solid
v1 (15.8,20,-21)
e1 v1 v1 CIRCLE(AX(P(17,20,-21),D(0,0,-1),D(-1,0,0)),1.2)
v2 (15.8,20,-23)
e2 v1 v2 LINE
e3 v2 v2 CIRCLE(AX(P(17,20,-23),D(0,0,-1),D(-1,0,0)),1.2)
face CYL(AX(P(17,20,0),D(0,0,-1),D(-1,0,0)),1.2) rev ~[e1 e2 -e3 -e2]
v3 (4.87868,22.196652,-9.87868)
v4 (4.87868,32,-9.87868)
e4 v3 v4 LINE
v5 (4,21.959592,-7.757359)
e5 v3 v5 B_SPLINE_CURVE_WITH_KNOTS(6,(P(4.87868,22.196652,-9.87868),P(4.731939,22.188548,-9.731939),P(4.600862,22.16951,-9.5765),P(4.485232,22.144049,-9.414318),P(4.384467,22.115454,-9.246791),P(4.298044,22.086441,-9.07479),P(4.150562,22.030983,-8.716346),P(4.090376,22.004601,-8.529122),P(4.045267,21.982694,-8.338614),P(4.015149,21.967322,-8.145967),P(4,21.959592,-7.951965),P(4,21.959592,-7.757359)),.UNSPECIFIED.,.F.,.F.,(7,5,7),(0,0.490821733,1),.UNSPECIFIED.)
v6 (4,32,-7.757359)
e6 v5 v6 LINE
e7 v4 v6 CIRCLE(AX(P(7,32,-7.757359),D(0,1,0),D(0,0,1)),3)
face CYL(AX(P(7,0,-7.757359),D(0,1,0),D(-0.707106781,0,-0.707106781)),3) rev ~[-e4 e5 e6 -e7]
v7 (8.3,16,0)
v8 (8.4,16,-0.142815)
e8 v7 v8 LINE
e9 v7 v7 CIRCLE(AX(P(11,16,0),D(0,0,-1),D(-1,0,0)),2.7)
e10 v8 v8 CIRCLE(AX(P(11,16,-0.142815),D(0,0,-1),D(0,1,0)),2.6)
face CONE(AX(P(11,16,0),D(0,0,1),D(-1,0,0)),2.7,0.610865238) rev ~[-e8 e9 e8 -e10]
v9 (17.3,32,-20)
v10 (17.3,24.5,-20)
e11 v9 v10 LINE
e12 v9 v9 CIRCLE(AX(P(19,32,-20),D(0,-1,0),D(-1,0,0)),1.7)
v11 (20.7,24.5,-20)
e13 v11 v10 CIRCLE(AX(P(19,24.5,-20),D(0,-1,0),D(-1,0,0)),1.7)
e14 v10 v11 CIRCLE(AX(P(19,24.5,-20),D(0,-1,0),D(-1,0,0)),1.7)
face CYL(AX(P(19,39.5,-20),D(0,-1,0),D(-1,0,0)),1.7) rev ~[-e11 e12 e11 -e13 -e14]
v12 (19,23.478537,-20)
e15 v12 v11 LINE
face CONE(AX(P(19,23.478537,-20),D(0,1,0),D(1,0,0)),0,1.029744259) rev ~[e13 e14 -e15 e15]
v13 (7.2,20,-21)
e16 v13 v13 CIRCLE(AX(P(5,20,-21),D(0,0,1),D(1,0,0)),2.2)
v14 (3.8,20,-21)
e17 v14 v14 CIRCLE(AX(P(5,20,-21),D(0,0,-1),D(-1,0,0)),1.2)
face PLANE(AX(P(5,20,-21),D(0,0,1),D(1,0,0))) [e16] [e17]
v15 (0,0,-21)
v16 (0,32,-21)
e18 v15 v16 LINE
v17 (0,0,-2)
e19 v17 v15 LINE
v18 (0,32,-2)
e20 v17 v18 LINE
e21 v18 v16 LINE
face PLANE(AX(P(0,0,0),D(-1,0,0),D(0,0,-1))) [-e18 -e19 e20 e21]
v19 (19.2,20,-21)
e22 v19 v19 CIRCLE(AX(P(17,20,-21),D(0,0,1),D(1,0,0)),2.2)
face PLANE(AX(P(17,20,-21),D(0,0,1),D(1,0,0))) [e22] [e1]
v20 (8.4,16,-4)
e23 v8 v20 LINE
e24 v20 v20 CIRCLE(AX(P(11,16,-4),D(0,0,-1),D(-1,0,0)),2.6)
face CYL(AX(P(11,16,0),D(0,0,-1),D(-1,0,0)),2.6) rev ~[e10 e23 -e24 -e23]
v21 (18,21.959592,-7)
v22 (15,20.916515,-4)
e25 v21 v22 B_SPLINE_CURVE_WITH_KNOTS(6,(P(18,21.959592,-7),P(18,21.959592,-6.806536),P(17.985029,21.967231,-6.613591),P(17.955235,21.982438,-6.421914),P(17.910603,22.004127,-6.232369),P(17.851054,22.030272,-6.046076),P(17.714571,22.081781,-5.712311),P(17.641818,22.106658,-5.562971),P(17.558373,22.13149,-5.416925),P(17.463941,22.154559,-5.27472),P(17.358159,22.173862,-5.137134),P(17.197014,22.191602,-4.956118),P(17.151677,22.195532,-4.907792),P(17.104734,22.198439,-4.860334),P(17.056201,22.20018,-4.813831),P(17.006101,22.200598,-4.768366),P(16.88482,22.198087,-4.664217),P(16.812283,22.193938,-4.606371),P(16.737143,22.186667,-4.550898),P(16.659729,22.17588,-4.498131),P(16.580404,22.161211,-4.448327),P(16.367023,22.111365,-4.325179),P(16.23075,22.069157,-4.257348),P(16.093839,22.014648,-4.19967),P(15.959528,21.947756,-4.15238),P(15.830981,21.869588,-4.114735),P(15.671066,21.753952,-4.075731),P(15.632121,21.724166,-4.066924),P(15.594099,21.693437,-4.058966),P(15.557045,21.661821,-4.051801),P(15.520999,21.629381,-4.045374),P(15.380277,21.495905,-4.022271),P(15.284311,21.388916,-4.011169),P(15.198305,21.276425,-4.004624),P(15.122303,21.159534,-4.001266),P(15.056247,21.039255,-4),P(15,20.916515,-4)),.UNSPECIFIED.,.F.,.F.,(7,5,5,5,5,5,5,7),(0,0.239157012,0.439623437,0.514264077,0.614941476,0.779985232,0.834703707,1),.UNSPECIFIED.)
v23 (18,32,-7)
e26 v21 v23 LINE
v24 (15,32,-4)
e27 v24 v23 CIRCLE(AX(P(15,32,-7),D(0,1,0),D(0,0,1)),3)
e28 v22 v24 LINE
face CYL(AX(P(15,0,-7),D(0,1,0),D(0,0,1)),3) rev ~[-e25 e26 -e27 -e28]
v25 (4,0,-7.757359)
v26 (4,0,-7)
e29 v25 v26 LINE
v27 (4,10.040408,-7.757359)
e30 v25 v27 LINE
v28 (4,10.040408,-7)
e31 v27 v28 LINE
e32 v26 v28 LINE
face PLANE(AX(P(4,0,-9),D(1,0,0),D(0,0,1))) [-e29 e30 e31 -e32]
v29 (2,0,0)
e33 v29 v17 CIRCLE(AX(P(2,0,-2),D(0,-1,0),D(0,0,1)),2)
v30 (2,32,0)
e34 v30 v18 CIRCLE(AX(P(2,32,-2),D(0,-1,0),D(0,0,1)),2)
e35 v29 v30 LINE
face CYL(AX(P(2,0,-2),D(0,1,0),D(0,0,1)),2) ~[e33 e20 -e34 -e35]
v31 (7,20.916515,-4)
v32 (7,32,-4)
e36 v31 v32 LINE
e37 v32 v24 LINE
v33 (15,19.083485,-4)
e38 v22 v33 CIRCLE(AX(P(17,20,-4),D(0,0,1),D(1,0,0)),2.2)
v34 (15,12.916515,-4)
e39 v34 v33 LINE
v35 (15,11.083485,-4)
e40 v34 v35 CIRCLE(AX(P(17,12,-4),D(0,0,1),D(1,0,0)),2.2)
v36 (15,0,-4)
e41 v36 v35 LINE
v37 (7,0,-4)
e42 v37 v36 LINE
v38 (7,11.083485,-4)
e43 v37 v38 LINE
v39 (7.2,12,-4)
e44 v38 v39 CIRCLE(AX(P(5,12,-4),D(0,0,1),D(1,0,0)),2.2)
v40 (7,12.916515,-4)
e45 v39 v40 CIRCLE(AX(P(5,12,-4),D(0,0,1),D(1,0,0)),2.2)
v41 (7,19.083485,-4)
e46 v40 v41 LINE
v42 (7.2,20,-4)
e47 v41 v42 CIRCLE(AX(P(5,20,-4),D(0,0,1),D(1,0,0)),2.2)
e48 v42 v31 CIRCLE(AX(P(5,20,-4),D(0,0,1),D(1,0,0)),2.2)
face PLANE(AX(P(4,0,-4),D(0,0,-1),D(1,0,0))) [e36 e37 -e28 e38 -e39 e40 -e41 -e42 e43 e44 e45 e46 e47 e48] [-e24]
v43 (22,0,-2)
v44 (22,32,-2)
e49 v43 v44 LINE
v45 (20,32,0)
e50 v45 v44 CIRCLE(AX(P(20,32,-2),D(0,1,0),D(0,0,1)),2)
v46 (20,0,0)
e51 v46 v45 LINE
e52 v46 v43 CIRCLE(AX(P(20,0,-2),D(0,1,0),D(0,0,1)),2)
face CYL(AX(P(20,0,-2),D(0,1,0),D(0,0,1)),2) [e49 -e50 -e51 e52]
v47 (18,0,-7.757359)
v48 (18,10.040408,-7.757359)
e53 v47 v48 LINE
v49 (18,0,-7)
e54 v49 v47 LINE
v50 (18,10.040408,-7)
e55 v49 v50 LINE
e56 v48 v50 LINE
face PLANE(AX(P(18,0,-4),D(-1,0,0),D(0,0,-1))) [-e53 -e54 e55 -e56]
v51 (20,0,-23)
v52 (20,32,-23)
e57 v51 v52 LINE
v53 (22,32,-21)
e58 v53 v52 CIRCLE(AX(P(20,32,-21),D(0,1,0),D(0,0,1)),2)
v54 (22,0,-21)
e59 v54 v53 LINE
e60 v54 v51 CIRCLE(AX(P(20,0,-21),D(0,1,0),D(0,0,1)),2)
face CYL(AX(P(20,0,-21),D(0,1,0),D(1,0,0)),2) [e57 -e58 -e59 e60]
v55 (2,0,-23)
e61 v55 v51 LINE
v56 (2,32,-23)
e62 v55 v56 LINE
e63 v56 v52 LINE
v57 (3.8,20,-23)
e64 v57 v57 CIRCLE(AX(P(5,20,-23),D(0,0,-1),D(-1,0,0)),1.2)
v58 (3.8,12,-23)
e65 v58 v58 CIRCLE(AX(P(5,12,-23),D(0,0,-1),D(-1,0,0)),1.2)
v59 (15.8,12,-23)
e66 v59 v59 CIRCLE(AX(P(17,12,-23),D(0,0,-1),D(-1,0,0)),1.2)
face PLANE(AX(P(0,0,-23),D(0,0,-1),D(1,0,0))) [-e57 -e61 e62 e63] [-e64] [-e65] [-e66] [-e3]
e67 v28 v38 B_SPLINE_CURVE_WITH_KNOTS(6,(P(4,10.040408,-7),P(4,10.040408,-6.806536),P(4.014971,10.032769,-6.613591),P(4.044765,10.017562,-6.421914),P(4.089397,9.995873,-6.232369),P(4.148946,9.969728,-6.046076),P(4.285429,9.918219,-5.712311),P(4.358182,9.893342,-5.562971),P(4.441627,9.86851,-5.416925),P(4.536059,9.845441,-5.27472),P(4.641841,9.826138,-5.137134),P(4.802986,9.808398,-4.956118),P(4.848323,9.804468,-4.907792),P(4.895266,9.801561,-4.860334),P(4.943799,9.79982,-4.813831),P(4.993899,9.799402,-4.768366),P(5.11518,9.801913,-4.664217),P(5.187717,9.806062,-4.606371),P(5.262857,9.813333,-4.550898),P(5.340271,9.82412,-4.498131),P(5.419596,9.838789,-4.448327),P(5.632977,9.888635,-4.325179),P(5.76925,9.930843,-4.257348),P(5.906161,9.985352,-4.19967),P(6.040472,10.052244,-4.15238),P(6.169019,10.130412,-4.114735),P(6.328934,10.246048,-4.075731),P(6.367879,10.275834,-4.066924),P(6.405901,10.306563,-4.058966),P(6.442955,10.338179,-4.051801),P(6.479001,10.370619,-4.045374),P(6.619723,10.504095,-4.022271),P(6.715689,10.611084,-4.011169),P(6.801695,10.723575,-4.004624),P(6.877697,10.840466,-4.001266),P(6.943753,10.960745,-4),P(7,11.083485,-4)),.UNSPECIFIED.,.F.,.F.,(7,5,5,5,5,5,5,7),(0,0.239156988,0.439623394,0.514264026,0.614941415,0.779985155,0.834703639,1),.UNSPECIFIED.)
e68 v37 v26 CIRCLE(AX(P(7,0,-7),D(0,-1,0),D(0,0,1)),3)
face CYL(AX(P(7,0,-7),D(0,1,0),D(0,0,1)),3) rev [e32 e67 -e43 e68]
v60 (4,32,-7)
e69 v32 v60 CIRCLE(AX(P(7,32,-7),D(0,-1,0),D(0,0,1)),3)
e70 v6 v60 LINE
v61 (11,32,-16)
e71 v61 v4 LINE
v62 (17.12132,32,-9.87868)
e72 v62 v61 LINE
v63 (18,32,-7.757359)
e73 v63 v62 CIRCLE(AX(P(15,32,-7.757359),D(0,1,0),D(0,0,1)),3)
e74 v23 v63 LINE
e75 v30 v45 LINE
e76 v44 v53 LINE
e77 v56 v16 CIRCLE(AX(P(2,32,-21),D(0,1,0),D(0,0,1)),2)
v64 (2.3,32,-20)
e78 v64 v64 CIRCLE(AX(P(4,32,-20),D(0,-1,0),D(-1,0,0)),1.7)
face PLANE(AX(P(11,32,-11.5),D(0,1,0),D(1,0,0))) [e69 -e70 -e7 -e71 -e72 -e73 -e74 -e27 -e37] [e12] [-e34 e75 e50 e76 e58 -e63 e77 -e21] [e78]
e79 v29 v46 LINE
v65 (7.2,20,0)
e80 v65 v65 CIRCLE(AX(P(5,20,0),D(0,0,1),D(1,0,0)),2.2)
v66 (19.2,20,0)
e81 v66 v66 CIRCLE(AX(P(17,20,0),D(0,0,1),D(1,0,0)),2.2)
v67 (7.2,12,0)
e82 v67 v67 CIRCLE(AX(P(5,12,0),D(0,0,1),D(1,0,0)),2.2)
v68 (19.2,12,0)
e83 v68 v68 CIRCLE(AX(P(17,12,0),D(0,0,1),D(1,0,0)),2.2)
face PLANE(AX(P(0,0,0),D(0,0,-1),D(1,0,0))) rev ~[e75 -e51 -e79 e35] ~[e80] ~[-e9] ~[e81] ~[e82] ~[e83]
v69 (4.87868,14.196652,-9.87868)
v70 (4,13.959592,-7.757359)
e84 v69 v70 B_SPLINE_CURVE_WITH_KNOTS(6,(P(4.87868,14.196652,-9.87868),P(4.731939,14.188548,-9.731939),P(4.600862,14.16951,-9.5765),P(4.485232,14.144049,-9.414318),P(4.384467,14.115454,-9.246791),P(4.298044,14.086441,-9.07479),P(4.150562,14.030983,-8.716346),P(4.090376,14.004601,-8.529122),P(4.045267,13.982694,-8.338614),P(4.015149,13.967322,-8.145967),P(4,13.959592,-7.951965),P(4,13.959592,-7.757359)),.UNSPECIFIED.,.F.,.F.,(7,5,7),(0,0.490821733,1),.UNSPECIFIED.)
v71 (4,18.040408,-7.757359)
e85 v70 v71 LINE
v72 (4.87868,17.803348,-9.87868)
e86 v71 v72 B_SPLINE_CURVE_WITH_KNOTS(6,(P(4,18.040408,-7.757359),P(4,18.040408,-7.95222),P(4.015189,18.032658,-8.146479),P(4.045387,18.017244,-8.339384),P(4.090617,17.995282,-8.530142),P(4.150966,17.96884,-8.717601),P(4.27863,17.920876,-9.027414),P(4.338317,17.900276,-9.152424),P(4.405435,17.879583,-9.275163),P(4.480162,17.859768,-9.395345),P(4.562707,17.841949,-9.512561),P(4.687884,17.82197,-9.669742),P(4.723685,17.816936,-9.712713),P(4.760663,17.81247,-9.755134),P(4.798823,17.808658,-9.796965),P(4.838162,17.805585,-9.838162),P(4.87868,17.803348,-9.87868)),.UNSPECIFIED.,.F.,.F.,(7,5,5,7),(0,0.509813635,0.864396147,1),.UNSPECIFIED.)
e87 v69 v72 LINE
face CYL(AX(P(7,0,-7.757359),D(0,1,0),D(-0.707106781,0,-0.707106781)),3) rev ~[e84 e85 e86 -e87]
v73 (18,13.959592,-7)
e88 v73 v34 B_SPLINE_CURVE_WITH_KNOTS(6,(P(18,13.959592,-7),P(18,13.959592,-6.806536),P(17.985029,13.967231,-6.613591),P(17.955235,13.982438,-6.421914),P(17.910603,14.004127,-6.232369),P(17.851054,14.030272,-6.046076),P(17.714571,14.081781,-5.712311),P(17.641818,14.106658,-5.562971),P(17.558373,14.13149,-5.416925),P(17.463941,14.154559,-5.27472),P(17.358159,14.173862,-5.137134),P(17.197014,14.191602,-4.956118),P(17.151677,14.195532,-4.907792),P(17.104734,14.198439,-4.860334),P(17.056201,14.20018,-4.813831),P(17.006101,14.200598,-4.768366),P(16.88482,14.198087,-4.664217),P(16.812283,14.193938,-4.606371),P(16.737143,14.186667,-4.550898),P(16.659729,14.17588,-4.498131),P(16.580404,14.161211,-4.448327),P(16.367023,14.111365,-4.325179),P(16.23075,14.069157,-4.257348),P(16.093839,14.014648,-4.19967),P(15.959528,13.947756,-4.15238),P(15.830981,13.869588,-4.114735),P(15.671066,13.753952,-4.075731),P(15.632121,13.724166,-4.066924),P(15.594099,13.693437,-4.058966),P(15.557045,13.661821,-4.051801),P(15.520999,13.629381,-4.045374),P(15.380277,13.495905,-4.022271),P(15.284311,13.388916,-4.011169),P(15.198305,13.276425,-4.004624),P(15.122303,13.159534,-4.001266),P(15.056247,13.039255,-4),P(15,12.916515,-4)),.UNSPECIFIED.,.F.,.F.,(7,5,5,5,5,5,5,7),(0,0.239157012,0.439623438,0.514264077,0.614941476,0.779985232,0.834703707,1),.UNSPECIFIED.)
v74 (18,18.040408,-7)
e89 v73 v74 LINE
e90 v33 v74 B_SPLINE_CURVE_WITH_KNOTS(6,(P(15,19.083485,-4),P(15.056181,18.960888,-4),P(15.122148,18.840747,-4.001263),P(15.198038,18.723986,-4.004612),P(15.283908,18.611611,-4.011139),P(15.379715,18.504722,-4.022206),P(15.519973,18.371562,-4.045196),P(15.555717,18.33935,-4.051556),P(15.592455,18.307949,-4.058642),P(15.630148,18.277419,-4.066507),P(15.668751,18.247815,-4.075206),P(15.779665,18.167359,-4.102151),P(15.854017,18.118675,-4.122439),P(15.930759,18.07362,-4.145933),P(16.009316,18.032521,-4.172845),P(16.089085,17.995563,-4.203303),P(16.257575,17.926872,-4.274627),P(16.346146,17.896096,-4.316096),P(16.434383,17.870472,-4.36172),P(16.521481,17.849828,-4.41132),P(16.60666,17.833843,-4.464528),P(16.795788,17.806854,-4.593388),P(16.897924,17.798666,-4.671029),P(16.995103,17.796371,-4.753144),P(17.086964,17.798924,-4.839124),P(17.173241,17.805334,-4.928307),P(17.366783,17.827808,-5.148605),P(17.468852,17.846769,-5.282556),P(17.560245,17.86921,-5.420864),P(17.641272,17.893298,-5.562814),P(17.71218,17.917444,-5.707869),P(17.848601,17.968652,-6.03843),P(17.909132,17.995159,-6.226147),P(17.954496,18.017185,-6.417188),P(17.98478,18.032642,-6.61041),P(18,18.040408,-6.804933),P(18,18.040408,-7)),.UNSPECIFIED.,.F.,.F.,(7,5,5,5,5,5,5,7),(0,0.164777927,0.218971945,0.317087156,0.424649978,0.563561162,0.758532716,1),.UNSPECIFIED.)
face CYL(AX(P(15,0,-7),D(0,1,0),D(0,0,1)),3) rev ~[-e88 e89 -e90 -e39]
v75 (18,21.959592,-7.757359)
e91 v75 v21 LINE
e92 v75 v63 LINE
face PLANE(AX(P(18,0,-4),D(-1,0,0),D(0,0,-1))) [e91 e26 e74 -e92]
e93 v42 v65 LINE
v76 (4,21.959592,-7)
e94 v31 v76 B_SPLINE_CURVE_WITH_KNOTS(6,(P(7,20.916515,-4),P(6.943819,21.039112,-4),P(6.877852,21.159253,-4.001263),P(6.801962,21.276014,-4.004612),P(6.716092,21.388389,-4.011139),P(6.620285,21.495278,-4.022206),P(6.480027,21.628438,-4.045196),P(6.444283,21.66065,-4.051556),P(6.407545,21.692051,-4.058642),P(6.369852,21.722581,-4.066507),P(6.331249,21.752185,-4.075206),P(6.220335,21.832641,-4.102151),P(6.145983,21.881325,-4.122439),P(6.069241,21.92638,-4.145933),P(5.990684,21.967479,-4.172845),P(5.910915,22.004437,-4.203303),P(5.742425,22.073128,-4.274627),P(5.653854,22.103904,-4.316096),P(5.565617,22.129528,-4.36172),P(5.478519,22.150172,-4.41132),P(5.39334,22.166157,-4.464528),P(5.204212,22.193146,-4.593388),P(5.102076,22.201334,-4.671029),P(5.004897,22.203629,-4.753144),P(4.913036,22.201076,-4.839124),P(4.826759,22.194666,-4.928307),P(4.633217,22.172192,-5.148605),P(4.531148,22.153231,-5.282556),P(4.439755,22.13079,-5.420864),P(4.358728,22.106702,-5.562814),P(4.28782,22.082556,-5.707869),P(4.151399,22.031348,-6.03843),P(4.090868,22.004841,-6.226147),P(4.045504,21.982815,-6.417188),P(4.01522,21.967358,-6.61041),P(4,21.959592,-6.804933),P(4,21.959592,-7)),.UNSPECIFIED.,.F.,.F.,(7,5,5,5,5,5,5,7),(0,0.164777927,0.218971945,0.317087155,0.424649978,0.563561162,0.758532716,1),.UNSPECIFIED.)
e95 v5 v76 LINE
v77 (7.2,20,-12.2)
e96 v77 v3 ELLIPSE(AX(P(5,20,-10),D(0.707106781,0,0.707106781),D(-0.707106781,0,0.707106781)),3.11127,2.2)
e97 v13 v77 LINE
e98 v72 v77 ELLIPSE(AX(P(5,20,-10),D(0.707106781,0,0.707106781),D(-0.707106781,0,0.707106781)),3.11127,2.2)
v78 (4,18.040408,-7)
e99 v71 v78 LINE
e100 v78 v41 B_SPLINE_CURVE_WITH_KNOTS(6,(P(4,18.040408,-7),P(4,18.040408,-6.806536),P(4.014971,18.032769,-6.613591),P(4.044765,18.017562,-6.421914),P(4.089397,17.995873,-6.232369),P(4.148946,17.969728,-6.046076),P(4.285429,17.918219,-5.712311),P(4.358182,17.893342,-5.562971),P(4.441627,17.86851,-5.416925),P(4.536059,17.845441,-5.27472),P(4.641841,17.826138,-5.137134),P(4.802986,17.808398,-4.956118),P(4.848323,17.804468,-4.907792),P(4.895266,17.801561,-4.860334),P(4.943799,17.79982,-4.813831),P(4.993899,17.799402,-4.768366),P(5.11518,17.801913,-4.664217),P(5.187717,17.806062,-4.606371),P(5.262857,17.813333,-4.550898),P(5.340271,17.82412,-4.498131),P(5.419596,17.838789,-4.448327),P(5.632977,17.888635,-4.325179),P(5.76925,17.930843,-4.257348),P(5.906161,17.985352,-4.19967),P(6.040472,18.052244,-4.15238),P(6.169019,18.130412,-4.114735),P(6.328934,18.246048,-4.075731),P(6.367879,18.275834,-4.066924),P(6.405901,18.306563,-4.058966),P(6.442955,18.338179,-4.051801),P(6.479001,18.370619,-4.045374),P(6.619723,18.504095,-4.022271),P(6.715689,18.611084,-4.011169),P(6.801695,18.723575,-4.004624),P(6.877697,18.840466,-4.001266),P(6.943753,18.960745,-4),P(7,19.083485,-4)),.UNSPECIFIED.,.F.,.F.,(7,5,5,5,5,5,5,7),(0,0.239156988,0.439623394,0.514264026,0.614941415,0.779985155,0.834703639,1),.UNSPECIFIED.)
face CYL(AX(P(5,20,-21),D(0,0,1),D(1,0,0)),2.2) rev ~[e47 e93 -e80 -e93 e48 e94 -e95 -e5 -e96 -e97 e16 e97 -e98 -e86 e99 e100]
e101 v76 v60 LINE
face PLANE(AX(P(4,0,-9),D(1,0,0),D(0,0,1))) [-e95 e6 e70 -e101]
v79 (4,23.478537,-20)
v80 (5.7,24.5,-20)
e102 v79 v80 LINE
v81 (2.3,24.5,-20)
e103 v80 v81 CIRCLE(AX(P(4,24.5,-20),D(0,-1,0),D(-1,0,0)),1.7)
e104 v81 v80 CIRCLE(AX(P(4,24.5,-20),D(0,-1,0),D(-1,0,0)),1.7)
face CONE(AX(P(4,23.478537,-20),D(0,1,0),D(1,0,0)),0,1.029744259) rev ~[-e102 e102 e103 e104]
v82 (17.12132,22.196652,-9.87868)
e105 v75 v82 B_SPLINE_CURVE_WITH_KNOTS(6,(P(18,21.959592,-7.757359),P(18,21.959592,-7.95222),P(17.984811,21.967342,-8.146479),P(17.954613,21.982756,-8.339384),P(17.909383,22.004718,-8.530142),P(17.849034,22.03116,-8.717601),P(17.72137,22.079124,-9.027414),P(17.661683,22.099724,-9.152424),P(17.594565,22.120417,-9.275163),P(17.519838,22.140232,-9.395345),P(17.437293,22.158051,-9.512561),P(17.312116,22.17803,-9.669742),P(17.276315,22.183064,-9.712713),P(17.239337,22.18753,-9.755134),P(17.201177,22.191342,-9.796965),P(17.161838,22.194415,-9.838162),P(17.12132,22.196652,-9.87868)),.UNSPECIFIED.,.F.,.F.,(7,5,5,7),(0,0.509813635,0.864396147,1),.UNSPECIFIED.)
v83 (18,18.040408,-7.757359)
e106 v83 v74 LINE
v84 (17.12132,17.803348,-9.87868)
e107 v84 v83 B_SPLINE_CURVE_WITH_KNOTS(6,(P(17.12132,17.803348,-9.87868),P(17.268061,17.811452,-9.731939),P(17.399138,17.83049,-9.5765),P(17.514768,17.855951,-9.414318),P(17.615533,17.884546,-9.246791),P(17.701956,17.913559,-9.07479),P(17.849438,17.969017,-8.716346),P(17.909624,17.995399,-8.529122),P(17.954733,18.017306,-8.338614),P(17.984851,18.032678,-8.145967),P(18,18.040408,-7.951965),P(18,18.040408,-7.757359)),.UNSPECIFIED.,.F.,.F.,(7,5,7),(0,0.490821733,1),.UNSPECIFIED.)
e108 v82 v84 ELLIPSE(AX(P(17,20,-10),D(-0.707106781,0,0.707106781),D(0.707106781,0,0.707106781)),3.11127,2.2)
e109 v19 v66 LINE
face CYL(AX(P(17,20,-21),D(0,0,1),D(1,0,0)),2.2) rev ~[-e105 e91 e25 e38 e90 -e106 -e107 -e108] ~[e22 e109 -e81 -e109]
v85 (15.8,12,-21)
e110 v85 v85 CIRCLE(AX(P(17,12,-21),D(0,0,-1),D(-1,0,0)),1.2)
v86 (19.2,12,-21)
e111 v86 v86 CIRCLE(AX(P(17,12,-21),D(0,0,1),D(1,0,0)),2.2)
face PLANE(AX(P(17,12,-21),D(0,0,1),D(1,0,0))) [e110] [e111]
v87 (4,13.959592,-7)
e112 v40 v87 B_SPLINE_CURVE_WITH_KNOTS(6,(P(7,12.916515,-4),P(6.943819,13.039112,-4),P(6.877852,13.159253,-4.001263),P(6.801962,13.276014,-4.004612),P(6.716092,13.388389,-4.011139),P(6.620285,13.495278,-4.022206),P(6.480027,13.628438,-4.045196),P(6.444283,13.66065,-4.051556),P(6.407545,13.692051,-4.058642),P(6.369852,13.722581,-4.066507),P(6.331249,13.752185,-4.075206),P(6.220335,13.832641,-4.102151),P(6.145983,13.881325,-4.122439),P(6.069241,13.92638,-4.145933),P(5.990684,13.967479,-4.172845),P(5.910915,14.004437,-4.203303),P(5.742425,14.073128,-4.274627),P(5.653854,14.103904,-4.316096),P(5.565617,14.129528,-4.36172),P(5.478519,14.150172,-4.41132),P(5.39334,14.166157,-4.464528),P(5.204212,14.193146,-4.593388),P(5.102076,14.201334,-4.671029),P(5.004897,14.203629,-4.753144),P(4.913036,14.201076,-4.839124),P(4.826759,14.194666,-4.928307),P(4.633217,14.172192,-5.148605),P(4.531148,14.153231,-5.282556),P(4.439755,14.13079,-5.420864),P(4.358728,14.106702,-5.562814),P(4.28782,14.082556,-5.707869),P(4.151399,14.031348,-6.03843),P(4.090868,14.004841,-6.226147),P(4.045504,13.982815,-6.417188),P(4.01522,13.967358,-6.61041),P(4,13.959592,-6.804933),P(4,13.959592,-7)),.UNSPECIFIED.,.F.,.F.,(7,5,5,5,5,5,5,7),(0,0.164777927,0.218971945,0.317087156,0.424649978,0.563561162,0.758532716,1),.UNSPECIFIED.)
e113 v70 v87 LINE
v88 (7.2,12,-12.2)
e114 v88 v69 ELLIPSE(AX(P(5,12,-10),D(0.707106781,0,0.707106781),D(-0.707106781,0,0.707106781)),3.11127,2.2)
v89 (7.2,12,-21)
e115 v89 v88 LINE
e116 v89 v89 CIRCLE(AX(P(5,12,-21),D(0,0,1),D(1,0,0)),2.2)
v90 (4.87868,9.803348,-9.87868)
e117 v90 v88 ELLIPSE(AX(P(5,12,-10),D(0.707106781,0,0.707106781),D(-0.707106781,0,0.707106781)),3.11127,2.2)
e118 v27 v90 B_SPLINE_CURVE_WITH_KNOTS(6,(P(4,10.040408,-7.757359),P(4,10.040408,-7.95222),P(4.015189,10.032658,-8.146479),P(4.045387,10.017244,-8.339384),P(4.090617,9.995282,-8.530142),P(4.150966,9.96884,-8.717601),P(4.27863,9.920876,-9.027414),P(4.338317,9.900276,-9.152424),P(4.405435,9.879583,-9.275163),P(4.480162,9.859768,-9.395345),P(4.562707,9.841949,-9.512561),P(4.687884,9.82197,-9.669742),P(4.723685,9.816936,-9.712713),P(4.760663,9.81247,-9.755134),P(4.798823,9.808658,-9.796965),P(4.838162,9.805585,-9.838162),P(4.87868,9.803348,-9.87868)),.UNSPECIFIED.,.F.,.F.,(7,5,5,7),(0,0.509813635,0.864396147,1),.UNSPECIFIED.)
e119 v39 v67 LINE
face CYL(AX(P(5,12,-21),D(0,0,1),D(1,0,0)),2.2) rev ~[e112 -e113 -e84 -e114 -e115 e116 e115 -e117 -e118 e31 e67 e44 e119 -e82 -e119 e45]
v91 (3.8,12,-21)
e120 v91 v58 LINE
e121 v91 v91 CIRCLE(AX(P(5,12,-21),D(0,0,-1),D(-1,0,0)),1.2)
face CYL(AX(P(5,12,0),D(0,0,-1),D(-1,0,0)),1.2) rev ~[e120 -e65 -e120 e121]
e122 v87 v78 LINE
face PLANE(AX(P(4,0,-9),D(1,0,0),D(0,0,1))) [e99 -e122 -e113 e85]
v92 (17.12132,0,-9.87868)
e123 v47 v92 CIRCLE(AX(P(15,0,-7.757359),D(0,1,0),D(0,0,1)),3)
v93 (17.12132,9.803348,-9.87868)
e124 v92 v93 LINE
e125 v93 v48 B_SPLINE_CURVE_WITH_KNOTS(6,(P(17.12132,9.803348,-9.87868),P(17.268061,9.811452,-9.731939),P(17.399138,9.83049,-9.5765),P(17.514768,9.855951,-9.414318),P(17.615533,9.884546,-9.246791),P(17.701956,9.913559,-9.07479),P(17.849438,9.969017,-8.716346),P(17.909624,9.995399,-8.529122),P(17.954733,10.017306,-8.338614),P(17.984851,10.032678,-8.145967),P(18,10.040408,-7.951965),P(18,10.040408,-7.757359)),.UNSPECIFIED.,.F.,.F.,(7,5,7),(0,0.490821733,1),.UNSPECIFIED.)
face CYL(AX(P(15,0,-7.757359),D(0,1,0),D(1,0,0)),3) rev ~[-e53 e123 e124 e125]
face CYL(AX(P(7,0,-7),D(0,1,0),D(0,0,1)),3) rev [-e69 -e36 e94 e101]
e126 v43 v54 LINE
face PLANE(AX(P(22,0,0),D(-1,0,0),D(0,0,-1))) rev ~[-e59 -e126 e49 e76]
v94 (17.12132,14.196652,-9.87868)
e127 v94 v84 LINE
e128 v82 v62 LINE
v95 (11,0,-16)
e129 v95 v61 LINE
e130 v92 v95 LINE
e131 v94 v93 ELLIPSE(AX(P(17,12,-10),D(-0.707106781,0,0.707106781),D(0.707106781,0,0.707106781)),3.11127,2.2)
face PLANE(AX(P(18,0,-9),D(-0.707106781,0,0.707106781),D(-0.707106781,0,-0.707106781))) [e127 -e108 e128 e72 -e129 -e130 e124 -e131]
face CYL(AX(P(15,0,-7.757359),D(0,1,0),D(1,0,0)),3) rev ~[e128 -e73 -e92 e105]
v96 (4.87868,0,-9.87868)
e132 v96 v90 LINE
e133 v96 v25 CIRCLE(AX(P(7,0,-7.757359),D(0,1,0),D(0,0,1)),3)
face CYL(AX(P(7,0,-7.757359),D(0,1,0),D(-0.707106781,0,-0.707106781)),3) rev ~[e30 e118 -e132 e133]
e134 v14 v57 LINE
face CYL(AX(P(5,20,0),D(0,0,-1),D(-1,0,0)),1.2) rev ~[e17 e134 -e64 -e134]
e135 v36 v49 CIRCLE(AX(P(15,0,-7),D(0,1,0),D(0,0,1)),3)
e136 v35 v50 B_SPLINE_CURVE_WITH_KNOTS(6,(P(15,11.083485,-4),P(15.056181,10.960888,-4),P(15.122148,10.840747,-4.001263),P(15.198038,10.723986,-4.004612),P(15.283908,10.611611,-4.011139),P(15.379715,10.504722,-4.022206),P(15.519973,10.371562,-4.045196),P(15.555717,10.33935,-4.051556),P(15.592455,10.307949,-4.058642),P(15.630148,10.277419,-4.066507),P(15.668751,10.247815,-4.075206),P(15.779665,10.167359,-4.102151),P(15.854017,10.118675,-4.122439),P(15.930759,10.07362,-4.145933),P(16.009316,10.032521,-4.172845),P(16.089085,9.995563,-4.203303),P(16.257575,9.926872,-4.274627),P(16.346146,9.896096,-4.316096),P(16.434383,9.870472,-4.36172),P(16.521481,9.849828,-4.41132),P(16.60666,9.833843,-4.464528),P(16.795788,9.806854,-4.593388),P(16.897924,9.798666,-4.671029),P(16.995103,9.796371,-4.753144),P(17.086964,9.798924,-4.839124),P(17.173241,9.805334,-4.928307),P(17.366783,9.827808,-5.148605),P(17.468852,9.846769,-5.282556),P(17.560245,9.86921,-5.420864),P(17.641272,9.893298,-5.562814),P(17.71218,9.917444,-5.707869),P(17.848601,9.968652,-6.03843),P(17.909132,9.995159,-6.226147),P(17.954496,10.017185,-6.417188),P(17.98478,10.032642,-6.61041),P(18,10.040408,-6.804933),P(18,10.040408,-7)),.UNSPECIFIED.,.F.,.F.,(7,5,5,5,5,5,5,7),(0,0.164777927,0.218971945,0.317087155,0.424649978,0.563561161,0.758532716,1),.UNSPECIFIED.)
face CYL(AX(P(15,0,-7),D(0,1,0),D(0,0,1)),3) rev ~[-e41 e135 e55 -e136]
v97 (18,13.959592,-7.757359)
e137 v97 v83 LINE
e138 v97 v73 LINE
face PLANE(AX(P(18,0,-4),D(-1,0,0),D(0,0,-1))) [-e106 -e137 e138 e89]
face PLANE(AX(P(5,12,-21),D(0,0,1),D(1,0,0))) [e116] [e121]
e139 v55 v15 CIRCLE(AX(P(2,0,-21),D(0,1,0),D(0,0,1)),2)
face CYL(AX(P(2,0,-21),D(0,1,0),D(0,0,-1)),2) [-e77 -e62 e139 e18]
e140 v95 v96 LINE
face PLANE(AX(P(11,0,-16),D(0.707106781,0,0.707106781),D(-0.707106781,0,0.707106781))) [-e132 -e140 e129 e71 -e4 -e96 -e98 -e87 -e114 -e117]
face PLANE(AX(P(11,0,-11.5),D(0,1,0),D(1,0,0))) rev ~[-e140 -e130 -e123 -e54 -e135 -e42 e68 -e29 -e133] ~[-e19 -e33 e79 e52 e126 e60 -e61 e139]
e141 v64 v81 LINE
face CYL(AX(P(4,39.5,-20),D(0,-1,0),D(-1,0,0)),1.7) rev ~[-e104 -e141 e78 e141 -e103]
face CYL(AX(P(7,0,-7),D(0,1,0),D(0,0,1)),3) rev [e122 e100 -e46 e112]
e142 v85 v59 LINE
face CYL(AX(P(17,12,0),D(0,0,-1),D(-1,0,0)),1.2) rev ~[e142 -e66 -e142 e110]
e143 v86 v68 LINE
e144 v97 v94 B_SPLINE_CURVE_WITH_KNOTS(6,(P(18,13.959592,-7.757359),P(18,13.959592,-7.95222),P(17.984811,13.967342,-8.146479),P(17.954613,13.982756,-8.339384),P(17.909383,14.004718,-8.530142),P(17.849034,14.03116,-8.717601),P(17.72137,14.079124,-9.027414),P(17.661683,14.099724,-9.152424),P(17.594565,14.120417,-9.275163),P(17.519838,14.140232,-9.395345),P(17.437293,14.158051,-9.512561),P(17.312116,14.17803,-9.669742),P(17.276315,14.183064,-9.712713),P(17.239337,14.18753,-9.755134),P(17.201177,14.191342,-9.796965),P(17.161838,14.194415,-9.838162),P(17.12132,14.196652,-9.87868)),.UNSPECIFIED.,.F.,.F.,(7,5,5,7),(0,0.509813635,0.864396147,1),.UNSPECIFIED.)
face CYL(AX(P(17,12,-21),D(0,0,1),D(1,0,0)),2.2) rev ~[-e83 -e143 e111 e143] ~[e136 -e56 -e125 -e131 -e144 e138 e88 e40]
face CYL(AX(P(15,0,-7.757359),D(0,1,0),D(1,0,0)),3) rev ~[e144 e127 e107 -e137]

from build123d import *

# Parameters (mm, degrees)
SKETCH1_W                       = 22
SKETCH1_H                       = 23
BOSS_EXTRUDE1_DEPTH             = 32
FILLET1_R                       = 3
CBORE_FOR_M2_SHCS1_D            = 2.4
CBORE_FOR_M2_SHCS1_CBORE_D      = 4.4
CBORE_FOR_M2_SHCS1_CBORE_DEPTH  = 21
F_5_0MM_DOWEL_HOLE1_D           = 5.2
F_5_0MM_DOWEL_HOLE1_DEPTH       = 4
F_5_0MM_DOWEL_HOLE1_CSINK_D     = 5.4
F_5_0MM_DOWEL_HOLE1_CSINK_ANGLE = 70
FILLET2_R                       = 2
M3_CLEARANCE_HOLE1_D            = 3.4
M3_CLEARANCE_HOLE1_DEPTH        = 7.5
M3_CLEARANCE_HOLE1_TIP          = 1.021463052


with BuildPart() as part:
    # Sketch1 → Boss-Extrude1 (new body)
    with BuildSketch(Plane(origin=(0, 0, 0), x_dir=(1, 0, 0), z_dir=(0, 1, 0))):
        with Locations((11, 11.5)):
            Rectangle(SKETCH1_W, SKETCH1_H)
        Polygon((4, 4), (18, 4), (18, 9), (11, 16), (4, 9), align=None, mode=Mode.SUBTRACT)
    extrude(amount=BOSS_EXTRUDE1_DEPTH)

    # Fillet1
    fillet1_edges = [part.edges().sort_by_distance(p)[0] for p in [
        (4, 16, -9),
        (4, 16, -4),
        (18, 16, -4),
        (18, 16, -9),
    ]]
    fillet(fillet1_edges, radius=FILLET1_R)

    # CBORE for M2 SHCS1 (through all)
    with Locations(Plane.XY):
        with Locations((5, 12), (17, 12), (17, 20), (5, 20)):
            CounterBoreHole(CBORE_FOR_M2_SHCS1_D / 2, CBORE_FOR_M2_SHCS1_CBORE_D / 2, CBORE_FOR_M2_SHCS1_CBORE_DEPTH)

    # Ø5.0mm Dowel Hole1
    with Locations(Plane.XY):
        with Locations((11, 16)):
            CounterSinkHole(F_5_0MM_DOWEL_HOLE1_D / 2, F_5_0MM_DOWEL_HOLE1_CSINK_D / 2, depth=F_5_0MM_DOWEL_HOLE1_DEPTH, counter_sink_angle=F_5_0MM_DOWEL_HOLE1_CSINK_ANGLE)

    # Fillet2
    fillet2_edges = [part.edges().sort_by_distance(p)[0] for p in [
        (0, 16, 0),
        (0, 16, -23),
        (22, 16, -23),
        (22, 16, 0),
    ]]
    fillet(fillet2_edges, radius=FILLET2_R)

    # M3 Clearance Hole1
    with Locations(Plane(origin=(0, 32, 0), x_dir=(1, 0, 0), z_dir=(0, 1, 0))):
        with Locations((4, 20), (19, 20)):
            Hole(M3_CLEARANCE_HOLE1_D / 2, depth=M3_CLEARANCE_HOLE1_DEPTH)
            with Locations((0, 0, -(M3_CLEARANCE_HOLE1_DEPTH + M3_CLEARANCE_HOLE1_TIP / 2))):  # 118° drill point
                Cone(0, M3_CLEARANCE_HOLE1_D / 2, M3_CLEARANCE_HOLE1_TIP, mode=Mode.SUBTRACT)


solid = part.part
